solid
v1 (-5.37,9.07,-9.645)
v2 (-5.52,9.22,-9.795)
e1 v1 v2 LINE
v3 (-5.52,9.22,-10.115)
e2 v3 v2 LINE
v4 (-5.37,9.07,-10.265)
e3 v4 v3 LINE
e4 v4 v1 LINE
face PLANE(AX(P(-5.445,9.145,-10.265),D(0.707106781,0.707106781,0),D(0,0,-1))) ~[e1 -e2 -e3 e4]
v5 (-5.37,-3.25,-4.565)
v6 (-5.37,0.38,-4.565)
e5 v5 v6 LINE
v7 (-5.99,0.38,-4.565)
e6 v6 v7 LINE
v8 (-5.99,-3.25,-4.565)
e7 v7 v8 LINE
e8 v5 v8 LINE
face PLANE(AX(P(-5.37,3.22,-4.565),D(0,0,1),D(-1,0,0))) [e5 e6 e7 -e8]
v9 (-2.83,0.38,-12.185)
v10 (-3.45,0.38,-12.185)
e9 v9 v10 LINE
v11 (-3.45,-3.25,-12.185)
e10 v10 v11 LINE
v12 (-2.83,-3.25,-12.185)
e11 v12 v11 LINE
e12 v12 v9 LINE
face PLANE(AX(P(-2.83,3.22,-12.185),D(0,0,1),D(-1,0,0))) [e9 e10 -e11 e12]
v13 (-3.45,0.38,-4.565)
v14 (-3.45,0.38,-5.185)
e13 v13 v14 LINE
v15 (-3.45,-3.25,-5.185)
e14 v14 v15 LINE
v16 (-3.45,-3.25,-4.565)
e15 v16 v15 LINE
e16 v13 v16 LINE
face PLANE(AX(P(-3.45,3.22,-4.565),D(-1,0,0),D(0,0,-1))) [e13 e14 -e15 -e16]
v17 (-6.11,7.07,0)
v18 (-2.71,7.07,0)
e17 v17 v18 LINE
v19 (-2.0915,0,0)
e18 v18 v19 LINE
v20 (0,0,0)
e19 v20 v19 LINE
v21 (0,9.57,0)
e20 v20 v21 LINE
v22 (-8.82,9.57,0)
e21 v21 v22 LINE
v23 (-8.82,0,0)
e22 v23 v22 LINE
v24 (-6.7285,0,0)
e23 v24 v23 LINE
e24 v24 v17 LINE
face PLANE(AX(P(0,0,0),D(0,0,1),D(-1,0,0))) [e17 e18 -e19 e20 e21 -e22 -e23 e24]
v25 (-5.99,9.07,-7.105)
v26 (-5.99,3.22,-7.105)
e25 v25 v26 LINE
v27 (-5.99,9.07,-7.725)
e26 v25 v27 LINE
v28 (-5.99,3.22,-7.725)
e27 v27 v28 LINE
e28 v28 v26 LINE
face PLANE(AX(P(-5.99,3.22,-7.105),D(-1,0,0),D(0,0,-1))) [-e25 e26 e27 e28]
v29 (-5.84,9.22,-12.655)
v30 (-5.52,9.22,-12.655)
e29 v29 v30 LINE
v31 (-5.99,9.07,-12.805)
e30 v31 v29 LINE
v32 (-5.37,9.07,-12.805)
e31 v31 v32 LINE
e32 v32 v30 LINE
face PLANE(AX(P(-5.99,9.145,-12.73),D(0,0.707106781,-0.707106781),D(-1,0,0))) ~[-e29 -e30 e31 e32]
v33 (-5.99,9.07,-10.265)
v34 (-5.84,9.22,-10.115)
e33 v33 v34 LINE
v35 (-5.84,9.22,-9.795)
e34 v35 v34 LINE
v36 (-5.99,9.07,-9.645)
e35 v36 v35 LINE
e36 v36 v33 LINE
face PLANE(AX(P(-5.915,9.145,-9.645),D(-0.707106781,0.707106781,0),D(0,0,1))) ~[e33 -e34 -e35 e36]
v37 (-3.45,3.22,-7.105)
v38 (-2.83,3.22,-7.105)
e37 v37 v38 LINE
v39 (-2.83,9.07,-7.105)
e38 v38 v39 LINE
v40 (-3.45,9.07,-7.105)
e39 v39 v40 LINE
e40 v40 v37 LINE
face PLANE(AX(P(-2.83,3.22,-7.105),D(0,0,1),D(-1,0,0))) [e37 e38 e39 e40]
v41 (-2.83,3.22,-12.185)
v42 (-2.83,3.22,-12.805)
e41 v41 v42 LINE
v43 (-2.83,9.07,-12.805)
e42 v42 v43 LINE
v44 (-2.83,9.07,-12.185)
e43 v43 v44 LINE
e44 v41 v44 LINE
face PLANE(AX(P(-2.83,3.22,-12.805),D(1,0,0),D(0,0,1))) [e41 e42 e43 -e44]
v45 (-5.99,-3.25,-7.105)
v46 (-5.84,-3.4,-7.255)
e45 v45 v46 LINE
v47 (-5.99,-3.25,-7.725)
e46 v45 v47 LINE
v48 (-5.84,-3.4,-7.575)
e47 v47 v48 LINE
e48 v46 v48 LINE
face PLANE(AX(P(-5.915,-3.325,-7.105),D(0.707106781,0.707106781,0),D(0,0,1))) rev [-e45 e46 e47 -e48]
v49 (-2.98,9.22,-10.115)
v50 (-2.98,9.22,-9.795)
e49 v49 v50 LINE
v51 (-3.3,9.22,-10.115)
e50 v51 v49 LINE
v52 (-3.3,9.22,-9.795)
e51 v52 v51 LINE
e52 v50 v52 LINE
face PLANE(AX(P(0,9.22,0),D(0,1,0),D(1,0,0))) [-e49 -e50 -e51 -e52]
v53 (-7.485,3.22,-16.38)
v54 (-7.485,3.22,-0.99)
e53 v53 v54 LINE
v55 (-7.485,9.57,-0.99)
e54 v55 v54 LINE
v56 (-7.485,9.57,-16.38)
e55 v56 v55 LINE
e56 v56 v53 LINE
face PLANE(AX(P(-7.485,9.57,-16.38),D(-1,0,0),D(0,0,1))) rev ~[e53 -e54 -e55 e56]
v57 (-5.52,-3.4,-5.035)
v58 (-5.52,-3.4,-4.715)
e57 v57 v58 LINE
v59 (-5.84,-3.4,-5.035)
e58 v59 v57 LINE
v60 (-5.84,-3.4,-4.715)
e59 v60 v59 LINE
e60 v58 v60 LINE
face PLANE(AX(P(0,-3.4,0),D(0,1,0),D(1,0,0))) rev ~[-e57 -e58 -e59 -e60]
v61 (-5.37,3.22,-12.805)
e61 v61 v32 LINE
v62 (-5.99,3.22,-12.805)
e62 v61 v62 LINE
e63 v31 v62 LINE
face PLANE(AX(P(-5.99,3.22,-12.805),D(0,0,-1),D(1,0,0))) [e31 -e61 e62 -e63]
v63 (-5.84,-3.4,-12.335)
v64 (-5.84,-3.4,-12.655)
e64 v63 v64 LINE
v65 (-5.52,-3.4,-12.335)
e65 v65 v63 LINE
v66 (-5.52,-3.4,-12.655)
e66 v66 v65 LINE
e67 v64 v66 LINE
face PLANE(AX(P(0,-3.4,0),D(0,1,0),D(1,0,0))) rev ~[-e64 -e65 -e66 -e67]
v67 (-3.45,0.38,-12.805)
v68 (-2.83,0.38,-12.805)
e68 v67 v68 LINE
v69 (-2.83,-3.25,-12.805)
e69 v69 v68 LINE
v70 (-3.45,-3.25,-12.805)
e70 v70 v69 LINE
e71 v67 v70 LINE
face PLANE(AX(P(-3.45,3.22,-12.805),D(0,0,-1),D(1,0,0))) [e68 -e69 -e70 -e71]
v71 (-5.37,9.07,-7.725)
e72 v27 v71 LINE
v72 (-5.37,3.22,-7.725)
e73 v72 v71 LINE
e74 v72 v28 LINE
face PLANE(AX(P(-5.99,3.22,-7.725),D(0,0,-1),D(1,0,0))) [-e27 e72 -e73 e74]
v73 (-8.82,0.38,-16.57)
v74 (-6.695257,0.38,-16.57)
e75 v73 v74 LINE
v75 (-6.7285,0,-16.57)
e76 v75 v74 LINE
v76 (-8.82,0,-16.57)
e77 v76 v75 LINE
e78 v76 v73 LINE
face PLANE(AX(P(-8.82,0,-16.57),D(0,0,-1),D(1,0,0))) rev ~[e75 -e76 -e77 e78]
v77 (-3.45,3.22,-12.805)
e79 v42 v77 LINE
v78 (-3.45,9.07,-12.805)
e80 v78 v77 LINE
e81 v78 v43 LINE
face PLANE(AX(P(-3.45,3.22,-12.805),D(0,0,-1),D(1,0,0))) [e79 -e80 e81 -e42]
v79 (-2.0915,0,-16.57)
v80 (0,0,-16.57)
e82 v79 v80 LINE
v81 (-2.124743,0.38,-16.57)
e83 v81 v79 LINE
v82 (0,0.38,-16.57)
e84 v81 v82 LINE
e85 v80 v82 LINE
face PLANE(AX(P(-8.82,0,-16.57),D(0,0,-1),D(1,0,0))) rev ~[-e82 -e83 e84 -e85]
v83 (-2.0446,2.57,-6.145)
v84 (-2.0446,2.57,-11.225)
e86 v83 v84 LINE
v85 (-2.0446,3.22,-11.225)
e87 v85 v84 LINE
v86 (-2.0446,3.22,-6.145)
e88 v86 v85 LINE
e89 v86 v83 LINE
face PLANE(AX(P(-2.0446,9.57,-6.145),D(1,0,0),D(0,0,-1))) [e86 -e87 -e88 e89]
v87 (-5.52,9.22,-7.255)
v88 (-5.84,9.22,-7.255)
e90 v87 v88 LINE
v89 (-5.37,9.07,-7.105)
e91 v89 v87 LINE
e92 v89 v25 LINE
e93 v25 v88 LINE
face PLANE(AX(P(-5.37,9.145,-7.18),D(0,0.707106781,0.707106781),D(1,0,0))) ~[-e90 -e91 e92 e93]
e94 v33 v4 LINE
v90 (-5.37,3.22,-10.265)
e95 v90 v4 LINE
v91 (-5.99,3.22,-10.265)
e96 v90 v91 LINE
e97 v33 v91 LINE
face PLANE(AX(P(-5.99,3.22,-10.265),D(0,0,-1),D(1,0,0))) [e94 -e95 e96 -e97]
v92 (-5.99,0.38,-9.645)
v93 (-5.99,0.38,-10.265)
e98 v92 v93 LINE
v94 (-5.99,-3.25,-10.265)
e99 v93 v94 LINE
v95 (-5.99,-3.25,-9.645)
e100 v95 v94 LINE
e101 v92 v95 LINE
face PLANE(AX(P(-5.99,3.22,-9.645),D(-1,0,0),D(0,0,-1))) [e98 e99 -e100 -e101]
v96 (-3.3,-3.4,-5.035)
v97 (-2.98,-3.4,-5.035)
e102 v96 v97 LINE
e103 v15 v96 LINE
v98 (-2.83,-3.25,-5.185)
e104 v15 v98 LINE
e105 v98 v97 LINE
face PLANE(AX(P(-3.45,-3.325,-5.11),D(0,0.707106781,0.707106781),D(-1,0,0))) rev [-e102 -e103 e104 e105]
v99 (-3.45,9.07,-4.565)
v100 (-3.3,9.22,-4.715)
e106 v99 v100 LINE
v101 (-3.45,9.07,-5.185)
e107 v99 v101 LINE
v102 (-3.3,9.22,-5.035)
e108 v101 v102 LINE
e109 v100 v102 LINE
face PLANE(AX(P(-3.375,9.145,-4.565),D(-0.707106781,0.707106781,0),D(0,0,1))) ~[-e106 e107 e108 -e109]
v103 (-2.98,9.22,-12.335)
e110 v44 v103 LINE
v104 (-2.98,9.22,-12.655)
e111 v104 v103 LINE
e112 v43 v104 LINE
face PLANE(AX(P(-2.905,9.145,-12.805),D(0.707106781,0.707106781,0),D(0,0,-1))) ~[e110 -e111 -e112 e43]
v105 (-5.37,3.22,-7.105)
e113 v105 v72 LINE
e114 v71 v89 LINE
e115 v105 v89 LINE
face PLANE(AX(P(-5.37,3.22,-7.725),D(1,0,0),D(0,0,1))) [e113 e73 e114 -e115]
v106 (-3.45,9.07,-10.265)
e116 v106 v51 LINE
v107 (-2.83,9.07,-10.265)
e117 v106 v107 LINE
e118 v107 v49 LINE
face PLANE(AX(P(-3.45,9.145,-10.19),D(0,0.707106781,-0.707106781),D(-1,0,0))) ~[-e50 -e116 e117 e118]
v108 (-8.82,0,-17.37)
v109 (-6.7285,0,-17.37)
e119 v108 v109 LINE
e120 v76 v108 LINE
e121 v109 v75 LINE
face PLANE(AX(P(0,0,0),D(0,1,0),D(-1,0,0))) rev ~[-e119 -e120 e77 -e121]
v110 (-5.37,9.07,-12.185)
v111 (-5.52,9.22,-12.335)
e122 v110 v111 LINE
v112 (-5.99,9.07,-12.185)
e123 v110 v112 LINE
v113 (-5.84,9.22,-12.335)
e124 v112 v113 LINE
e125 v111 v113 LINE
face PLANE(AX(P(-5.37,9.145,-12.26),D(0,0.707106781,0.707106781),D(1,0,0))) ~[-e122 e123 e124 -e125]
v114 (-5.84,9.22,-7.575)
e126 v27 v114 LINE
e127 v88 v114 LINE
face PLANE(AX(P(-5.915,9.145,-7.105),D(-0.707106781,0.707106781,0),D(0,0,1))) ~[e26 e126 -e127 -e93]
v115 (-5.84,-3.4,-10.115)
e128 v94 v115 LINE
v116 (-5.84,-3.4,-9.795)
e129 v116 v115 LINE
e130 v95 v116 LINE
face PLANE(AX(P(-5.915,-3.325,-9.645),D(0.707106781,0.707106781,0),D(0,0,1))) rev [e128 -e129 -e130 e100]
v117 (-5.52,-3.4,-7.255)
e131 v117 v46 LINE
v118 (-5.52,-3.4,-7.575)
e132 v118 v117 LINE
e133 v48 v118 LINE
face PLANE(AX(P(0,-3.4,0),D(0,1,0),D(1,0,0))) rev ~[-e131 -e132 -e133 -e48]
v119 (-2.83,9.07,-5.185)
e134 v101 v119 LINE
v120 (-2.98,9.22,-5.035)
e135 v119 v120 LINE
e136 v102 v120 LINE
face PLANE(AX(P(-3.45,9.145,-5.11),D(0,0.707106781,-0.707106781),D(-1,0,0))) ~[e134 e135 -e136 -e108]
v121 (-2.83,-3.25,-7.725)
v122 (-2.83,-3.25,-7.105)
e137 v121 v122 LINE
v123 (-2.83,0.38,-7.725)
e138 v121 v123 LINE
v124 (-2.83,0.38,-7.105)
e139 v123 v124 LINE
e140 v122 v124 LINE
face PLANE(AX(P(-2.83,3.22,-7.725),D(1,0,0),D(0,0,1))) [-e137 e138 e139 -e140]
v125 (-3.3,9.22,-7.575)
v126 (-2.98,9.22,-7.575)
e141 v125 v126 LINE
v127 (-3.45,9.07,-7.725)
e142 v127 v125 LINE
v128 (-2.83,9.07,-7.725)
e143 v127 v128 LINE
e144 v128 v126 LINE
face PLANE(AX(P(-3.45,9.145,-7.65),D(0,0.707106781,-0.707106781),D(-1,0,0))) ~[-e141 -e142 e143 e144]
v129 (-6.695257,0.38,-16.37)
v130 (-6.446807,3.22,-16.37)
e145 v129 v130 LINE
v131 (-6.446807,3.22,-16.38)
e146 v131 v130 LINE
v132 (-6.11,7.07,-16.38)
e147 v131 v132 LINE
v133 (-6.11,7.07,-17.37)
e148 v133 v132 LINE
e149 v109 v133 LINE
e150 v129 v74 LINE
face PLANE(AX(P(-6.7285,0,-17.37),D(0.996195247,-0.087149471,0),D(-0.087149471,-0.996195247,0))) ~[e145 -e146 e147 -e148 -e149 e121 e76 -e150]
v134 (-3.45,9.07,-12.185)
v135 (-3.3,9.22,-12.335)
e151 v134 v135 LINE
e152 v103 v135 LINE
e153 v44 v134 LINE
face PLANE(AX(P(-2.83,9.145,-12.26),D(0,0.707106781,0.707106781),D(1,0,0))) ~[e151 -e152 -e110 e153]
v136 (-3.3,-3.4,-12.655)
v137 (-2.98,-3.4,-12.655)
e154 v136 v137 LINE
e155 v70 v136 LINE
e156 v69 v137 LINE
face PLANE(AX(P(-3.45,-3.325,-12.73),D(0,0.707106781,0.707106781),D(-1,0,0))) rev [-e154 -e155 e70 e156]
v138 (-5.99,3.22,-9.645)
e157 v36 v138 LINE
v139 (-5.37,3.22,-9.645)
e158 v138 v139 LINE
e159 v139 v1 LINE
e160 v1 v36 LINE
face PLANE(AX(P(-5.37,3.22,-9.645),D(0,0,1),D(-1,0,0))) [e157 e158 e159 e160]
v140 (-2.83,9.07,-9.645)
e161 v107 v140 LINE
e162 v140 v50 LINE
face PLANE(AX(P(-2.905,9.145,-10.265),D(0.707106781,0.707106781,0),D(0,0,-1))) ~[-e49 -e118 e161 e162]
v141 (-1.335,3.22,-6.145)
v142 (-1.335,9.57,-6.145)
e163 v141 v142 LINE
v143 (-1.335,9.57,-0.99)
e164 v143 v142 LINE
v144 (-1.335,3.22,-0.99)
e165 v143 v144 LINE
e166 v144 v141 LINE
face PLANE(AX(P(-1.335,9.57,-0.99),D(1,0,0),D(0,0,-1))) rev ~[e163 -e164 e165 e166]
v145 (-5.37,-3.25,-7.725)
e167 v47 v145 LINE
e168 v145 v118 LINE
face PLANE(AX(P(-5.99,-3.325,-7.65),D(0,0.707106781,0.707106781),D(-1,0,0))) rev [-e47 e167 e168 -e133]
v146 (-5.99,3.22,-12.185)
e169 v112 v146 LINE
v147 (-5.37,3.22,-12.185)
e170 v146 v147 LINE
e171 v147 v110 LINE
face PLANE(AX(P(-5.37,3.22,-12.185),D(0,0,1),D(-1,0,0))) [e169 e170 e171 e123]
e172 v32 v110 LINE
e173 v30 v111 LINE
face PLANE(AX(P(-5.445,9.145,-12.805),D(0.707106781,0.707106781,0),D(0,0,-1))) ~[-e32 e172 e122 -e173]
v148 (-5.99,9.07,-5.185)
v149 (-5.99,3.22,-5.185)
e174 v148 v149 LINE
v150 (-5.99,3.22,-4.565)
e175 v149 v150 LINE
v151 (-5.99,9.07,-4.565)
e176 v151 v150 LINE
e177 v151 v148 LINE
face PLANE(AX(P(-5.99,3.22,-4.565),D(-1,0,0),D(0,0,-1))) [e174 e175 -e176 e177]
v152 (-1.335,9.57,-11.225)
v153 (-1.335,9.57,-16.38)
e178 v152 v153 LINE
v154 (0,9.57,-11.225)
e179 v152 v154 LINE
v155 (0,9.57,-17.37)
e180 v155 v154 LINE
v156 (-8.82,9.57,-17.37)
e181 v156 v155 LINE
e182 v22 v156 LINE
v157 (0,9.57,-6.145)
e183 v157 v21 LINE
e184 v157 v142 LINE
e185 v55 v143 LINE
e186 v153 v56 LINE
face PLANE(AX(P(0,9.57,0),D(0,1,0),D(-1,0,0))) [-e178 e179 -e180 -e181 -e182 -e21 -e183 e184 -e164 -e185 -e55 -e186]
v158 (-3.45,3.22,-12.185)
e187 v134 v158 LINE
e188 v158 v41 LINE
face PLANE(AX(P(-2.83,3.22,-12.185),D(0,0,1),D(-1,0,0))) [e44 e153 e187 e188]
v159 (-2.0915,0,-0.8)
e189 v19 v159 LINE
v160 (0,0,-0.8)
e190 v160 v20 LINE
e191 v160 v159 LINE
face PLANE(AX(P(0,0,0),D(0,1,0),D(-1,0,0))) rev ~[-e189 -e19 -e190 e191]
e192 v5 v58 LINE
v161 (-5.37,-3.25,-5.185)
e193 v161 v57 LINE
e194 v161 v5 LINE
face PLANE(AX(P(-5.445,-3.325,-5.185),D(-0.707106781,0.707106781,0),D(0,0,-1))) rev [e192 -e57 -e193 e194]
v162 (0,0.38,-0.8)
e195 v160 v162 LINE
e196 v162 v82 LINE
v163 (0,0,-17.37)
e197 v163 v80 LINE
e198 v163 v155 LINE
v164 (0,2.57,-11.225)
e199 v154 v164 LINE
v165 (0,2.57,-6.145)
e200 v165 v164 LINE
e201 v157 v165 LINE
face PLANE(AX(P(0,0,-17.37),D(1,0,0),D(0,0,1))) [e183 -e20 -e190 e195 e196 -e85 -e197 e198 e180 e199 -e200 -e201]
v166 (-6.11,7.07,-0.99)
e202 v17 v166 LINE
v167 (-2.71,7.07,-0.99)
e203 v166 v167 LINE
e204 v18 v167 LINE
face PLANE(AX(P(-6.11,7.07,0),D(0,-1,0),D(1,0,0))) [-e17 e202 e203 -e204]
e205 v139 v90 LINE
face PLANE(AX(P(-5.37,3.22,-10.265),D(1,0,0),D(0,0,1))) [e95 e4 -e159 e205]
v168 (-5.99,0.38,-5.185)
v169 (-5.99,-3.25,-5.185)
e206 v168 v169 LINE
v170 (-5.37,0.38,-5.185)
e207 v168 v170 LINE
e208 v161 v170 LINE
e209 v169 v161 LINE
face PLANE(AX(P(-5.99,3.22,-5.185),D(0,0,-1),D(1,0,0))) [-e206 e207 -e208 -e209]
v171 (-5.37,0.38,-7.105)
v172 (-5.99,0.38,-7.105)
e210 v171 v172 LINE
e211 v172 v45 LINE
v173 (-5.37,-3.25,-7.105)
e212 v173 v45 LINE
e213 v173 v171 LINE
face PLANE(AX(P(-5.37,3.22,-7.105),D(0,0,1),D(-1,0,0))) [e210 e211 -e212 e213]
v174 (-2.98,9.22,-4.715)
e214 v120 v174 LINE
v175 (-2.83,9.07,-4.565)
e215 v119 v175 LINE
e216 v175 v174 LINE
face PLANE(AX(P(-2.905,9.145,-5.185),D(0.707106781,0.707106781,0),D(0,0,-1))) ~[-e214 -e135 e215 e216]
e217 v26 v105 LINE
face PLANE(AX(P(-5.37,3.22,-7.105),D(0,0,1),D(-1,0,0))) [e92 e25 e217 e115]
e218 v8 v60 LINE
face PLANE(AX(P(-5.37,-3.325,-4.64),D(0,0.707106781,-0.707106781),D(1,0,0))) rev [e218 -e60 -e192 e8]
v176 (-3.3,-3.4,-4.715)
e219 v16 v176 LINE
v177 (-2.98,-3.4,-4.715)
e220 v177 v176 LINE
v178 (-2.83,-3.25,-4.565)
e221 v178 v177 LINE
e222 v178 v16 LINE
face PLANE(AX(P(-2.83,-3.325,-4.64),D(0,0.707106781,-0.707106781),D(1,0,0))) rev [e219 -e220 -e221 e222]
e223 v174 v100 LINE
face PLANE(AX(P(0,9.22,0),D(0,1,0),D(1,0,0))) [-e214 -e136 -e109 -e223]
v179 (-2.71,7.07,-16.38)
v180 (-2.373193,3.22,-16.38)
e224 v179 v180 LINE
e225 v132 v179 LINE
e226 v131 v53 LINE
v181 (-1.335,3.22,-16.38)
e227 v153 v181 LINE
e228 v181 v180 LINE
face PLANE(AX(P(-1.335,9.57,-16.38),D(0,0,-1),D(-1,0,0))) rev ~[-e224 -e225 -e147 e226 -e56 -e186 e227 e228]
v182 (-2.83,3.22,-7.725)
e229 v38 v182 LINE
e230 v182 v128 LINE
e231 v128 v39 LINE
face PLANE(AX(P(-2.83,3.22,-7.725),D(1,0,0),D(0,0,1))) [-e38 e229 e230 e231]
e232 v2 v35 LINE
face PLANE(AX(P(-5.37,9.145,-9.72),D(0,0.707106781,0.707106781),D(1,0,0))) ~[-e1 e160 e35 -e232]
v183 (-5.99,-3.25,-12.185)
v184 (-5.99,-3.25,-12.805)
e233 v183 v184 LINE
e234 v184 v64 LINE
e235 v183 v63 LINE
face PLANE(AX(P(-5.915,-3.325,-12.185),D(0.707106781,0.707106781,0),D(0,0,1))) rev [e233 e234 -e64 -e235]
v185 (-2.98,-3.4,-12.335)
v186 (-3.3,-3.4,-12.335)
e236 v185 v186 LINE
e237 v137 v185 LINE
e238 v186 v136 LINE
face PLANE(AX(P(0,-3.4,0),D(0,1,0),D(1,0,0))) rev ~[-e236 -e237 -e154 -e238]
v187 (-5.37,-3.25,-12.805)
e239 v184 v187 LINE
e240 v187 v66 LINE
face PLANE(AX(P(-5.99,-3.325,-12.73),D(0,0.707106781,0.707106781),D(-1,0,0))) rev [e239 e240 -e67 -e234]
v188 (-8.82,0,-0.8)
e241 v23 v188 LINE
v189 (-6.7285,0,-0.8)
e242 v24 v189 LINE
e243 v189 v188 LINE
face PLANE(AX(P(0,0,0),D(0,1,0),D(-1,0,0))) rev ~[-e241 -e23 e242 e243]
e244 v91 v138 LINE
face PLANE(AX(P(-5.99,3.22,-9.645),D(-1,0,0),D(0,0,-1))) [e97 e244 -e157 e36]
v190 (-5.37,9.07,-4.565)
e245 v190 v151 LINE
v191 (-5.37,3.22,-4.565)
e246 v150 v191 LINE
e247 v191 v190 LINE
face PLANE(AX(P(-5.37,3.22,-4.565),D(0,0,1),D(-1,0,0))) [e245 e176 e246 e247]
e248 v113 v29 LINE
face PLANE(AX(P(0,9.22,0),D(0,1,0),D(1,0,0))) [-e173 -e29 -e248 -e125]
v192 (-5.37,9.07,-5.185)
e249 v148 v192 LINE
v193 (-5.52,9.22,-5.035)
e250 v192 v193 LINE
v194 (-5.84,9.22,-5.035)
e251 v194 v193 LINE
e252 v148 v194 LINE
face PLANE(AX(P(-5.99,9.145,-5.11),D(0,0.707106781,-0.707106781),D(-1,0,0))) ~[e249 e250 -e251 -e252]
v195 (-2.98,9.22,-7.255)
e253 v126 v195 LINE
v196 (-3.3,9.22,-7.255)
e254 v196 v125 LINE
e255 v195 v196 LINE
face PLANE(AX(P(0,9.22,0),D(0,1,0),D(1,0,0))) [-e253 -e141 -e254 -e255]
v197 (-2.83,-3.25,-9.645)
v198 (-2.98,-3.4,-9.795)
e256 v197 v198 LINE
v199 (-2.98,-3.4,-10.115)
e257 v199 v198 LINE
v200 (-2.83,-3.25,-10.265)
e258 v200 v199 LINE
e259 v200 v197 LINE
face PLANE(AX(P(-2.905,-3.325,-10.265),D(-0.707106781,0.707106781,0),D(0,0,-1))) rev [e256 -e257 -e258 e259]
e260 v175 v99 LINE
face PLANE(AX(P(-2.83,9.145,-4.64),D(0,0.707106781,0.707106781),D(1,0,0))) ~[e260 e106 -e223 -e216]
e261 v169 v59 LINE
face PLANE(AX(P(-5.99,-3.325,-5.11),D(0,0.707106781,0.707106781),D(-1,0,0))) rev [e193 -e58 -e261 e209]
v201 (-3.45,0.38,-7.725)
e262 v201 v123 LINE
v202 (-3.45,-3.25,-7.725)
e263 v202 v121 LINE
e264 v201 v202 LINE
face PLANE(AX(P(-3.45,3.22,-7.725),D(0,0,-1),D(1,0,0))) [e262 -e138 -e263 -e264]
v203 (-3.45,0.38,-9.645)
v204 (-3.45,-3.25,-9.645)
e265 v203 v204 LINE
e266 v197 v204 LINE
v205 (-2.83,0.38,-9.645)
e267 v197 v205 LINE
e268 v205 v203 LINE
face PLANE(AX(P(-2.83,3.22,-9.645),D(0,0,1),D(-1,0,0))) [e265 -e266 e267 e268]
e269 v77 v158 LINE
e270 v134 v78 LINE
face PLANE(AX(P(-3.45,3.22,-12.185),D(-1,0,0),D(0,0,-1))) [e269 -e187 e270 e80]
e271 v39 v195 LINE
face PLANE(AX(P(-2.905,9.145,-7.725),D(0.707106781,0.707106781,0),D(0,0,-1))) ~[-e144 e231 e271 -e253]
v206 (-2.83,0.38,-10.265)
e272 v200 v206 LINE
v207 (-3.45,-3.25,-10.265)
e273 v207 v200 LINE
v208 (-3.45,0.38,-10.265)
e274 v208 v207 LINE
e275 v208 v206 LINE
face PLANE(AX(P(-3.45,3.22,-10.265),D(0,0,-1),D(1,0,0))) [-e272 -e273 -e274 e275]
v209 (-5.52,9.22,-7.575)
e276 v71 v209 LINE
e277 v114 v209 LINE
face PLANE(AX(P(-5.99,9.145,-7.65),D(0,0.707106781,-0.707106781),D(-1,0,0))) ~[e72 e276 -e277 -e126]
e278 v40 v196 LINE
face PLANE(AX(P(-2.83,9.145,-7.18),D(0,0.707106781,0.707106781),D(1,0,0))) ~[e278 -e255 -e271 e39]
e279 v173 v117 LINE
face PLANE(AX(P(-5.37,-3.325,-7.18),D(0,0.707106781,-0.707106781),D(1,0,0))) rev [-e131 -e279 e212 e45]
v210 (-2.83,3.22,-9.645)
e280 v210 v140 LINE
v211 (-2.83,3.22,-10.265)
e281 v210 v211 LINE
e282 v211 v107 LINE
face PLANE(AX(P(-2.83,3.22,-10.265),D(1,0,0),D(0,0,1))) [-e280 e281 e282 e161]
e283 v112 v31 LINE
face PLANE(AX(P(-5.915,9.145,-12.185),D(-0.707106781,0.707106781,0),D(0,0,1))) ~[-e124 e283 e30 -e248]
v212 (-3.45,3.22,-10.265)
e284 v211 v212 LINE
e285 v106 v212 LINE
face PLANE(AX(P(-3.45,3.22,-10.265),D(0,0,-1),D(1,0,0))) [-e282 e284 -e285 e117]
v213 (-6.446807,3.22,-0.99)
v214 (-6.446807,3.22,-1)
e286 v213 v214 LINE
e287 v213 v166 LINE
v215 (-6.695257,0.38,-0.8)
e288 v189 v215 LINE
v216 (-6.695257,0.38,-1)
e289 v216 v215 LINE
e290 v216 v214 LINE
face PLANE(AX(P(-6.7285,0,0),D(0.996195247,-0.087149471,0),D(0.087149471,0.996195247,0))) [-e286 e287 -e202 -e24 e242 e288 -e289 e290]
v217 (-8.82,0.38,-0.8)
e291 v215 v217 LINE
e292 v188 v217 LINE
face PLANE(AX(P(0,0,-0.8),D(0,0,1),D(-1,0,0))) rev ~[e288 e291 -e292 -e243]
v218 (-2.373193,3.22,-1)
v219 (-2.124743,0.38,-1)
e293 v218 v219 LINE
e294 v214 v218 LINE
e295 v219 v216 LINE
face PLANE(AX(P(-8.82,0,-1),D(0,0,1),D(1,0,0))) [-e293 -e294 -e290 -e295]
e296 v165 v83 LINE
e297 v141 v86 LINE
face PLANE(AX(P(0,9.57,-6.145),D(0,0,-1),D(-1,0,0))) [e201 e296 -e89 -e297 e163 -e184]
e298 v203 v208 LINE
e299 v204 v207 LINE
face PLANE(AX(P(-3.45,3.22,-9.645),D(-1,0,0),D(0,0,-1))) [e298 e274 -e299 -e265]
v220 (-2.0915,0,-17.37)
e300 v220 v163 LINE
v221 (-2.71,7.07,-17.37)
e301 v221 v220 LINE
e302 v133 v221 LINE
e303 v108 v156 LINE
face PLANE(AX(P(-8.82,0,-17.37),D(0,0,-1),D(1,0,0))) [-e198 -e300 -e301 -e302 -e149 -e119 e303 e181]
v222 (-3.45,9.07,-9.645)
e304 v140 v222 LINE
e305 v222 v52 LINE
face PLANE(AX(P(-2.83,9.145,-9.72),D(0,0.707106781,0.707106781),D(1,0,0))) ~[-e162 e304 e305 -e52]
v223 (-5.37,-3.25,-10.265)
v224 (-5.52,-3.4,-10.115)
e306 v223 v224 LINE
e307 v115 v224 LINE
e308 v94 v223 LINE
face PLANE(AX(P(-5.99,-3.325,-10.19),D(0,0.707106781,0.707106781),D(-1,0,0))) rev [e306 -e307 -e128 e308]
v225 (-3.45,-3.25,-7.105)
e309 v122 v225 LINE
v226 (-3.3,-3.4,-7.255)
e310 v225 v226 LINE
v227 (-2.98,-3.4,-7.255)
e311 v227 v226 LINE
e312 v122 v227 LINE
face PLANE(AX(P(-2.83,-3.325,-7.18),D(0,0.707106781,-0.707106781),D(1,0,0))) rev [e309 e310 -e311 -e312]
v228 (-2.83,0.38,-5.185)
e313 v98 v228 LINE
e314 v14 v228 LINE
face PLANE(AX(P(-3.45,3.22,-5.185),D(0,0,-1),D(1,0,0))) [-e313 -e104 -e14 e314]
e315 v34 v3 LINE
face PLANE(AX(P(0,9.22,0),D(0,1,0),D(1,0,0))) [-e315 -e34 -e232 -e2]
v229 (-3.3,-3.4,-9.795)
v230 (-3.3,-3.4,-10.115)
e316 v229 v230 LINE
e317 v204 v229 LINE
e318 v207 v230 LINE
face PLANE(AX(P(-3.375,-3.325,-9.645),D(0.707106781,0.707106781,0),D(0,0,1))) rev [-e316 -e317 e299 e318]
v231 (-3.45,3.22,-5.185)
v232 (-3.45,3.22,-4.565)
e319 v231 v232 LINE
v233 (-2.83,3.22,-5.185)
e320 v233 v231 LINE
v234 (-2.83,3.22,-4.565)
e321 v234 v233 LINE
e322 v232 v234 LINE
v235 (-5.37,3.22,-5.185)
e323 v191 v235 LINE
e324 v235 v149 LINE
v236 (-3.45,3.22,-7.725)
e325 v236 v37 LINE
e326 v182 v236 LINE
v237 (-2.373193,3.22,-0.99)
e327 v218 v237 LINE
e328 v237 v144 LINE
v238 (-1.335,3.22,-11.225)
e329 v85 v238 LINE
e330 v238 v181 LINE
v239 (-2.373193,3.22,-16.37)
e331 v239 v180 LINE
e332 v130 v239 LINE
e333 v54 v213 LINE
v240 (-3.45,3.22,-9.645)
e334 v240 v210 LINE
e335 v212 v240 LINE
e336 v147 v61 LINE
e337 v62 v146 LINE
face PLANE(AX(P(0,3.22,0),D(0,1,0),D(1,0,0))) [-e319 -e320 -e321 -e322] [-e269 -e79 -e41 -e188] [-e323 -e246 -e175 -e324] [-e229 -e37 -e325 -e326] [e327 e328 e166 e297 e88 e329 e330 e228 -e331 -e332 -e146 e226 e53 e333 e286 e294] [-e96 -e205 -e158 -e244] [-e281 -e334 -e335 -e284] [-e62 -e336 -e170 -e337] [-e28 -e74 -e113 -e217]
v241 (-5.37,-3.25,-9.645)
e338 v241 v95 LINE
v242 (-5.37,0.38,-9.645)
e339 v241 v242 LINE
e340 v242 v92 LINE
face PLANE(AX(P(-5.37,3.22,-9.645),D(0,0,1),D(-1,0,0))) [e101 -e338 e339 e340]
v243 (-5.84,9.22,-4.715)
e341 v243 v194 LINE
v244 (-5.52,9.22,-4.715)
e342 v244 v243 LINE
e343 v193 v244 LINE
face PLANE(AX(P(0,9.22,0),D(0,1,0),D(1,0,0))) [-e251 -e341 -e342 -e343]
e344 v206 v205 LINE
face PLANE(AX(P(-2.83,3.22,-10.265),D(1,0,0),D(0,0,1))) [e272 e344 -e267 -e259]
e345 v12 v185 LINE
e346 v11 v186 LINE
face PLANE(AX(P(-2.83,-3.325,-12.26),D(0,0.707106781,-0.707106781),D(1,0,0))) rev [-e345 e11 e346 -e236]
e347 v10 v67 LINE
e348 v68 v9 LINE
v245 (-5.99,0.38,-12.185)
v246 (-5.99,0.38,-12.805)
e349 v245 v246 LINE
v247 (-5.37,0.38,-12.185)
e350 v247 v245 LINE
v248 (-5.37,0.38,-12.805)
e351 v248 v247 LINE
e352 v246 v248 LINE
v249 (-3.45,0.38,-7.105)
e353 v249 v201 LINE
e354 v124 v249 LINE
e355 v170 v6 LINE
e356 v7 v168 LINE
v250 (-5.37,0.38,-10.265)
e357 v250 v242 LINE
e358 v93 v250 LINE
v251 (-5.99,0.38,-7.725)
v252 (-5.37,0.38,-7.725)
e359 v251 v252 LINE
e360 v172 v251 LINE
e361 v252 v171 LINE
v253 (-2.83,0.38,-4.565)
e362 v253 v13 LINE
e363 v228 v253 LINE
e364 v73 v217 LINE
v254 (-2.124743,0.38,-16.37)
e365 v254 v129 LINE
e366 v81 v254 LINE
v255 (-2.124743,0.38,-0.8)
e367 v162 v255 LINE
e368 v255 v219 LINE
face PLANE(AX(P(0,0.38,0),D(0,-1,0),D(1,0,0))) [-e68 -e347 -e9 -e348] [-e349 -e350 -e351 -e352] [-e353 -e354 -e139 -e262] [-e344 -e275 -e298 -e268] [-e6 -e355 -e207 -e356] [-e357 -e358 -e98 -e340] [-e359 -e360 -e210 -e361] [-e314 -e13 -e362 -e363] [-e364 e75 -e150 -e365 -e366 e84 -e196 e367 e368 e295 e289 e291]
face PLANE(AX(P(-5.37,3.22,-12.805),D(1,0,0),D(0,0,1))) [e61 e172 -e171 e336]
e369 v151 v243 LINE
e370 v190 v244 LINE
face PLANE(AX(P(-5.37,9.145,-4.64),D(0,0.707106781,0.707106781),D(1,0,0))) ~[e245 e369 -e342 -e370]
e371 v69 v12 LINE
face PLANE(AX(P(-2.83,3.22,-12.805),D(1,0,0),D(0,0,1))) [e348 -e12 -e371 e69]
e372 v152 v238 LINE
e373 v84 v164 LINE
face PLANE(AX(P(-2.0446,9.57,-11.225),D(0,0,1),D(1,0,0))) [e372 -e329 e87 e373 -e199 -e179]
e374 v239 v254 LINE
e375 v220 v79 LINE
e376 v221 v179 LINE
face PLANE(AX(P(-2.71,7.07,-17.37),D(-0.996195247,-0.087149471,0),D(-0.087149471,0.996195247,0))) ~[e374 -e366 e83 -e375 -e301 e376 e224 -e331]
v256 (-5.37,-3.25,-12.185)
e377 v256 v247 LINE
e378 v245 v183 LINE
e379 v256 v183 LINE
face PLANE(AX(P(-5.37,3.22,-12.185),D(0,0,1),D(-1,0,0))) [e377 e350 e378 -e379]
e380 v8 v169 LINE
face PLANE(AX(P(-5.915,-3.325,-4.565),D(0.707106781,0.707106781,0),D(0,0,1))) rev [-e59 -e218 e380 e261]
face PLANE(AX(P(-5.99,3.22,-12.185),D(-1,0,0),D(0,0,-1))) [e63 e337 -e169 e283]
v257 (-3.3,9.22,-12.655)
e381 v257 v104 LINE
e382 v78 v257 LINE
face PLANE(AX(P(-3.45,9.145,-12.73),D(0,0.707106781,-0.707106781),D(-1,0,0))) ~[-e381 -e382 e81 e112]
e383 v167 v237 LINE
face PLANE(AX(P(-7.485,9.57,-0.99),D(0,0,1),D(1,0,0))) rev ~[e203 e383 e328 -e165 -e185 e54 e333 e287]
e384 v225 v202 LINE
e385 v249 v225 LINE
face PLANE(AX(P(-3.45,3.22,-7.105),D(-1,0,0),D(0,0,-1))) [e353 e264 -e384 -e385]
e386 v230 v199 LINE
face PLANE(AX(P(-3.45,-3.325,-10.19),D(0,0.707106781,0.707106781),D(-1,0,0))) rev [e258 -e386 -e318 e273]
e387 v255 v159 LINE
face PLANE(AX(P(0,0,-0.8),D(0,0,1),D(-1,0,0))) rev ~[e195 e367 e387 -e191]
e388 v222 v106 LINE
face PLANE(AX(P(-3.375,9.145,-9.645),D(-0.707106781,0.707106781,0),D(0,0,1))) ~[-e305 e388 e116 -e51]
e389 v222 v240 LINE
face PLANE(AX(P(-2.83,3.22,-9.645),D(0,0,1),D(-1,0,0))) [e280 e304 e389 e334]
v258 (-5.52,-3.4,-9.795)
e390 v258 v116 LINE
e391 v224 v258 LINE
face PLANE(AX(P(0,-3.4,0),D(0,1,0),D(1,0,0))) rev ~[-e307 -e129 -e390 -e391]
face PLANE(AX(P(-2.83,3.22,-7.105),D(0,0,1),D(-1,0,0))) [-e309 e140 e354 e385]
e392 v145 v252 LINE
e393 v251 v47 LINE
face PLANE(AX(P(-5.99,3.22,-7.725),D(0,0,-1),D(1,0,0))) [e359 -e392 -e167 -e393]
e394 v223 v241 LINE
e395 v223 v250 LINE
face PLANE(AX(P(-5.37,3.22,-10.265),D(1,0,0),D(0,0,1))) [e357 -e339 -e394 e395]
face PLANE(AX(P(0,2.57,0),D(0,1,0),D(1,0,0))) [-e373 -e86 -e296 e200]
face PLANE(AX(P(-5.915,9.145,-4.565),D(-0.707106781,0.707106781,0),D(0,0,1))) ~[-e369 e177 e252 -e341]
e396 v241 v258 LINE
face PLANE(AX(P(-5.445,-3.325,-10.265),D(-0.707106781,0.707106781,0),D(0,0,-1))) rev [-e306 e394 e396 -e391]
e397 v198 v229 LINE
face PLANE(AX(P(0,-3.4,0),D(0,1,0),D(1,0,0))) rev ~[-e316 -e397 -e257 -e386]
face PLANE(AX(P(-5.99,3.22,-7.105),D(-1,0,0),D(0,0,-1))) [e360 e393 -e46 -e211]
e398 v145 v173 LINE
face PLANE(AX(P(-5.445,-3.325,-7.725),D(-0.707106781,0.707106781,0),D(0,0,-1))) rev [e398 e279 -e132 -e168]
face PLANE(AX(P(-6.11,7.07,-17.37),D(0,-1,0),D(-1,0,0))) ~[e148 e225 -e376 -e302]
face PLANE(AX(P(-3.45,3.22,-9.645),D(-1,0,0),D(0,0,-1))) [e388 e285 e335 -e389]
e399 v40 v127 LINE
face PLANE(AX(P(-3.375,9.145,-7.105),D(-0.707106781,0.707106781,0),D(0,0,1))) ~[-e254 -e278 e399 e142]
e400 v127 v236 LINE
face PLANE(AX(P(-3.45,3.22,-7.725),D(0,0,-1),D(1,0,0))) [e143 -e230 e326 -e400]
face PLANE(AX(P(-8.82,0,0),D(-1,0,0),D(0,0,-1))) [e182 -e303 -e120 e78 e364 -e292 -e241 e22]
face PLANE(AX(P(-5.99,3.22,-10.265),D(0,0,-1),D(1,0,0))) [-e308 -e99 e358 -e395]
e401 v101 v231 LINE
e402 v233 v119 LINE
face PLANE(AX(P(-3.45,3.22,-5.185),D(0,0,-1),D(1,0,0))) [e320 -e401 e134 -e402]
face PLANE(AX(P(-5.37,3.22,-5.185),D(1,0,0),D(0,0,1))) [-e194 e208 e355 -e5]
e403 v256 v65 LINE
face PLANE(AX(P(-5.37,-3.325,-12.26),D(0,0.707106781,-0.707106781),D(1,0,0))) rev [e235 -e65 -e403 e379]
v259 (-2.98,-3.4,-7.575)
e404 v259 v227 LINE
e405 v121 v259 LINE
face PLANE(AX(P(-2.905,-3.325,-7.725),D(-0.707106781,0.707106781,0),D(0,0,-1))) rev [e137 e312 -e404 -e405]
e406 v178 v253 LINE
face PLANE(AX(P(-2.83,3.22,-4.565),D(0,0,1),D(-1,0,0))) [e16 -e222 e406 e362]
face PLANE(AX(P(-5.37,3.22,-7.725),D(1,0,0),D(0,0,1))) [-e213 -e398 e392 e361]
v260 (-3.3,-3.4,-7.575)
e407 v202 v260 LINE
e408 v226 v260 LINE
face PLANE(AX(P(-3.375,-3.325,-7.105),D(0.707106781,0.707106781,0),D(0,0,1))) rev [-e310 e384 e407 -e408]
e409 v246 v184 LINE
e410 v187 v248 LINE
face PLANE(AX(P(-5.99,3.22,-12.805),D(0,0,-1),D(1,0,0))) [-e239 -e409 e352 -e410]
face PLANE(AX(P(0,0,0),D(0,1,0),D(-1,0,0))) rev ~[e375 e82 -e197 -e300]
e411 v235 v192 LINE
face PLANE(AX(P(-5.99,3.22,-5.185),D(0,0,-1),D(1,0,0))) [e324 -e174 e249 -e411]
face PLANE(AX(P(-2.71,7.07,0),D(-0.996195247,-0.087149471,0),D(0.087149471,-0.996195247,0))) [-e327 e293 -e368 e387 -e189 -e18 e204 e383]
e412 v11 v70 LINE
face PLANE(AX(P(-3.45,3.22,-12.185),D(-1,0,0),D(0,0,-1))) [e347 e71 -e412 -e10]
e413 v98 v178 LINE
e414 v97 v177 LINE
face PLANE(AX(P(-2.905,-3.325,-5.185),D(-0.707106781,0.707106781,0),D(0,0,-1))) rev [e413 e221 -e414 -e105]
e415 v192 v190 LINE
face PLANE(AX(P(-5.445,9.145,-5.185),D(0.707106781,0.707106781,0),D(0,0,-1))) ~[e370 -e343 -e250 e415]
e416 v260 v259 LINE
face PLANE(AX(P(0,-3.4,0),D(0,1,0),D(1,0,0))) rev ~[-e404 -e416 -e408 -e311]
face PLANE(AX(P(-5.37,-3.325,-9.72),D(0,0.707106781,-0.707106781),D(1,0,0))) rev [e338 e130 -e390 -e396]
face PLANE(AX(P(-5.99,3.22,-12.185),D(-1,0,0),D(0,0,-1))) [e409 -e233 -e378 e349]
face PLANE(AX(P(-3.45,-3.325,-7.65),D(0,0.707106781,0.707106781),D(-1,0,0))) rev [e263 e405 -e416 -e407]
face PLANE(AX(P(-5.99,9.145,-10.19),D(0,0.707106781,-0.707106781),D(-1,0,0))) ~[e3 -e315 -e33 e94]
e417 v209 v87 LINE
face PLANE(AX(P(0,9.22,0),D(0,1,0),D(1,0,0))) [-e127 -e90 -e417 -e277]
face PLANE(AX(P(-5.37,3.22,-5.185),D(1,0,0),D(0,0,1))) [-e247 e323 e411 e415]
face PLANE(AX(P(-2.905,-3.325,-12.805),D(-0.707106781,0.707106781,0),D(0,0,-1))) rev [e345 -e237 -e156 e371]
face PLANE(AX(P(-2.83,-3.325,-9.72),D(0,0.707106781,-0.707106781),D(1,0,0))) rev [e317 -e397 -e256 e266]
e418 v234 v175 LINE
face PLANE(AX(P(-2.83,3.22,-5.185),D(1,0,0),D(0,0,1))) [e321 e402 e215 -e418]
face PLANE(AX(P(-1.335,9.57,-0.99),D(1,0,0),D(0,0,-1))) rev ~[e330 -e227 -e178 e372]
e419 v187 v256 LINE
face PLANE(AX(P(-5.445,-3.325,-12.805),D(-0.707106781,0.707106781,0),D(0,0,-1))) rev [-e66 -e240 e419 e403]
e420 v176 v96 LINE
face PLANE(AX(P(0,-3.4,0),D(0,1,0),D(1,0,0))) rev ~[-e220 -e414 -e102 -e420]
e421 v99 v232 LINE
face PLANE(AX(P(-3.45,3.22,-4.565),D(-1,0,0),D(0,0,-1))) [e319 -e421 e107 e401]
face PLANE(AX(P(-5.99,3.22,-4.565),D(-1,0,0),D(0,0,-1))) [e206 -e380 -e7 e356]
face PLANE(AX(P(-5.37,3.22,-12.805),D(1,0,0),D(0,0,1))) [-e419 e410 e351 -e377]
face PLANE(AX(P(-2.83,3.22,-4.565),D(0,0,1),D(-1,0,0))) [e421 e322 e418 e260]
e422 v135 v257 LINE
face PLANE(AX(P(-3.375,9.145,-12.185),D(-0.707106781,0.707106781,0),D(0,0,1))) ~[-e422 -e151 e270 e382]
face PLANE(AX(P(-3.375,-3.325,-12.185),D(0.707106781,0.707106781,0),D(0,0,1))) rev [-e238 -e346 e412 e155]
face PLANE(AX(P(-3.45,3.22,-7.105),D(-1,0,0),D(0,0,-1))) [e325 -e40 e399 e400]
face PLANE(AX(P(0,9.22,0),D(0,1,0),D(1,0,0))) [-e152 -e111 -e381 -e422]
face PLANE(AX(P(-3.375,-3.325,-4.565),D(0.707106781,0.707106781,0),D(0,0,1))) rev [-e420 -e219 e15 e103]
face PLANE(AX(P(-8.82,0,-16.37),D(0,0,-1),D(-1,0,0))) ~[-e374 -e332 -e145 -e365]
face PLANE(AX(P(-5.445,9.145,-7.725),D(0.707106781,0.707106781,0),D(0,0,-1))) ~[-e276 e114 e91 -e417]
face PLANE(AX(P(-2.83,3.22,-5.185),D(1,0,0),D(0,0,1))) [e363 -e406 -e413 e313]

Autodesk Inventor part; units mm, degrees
ref_plane "YZ Plane" through (0, 0, 0) normal (1, 0, 0) x (0, 1, 0)
ref_plane "XZ Plane" through (0, 0, 0) normal (0, 1, 0) x (-1, 0, 0)
sketch "Sketch1" plane through (0, 0, 0) normal (0, 1, 0) x (-1, 0, 0)
  line L0 (0, 0) -> (8.82, 0)
  line L1 (8.82, 0) -> (8.82, -17.37)
  line L2 (8.82, -17.37) -> (0, -17.37)
  line L3 (0, -17.37) -> (0, 0)
  dimension "length" = 17.37
  dimension "width" = 8.82
extrude "Extrusion1" add sketch "Sketch1" along normal blind 9.57
sketch "Sketch2" plane through (0, 9.57, 0) normal (0, 1, 0) x (1, 0, 0)
  line L0 (-7.485, 0.99) -> (-1.335, 0.99)
  line L1 (-1.335, 0.99) -> (-1.335, 16.38)
  line L2 (-1.335, 16.38) -> (-7.485, 16.38)
  line L3 (-7.485, 16.38) -> (-7.485, 0.99)
  line L4 (0, 17.37) -> (-8.82, 17.37) projected
  line L5 (0, 0) -> (0, 17.37) projected
  dimension "d5" = 6.15
  dimension "d6" = 15.39
  dimension "d7" = 0.99
  dimension "d8" = 1.335
extrude "Extrusion2" cut sketch "Sketch2" against normal blind 6.35
sketch "Sketch3" plane through (0, 9.57, 0) normal (0, 1, 0) x (1, 0, 0)
  line L0 (0, 0) -> (0, 17.37) projected
  line L1 (0, 6.145) -> (-2.0446, 6.145)
  line L2 (-2.0446, 6.145) -> (-2.0446, 11.225)
  line L3 (-2.0446, 11.225) -> (0, 11.225)
  line L4 (0, 11.225) -> (0, 6.145)
  line L5 (-8.82, 0) -> (0, 0) projected
  dimension "d11" = 5.08
  dimension "d12" = 6.145
  dimension "d13" = 2.0446
extrude "Extrusion3" cut sketch "Sketch3" against normal blind 7
sketch "Sketch4" plane through (0, 0, 0) normal (0, -1, 0) x (1, 0, 0)
  line L0 (0, 0) -> (0, -17.37) projected
  line L1 (-8.82, -17.37) -> (-8.82, 0) projected
  line L2 (0, -0.8) -> (-8.82, -0.8)
  line L3 (-8.82, -0.8) -> (-8.82, -16.57)
  line L4 (-8.82, -16.57) -> (0, -16.57)
  line L5 (0, -16.57) -> (0, -0.8)
  line L6 (0, 0) -> (-8.82, 0) projected
  line L7 (-8.82, -17.37) -> (0, -17.37) projected
  dimension "d16" = 0.8
  dimension "d17" = 0.8
extrude "Extrusion4" cut sketch "Sketch4" against normal blind 0.38 contours L0 L4 L1 L2
sketch "Sketch5" plane through (-8.82, 0, 0) normal (0, 0, 1) x (1, 0, 0)
  line L0 (2.0915, 0) -> (2.71, 7.07)
  line L1 (2.71, 7.07) -> (6.11, 7.07)
  line L2 (6.11, 7.07) -> (6.7285, 0)
  line L3 (2.0915, 0) -> (6.7285, 0)
  line L4 (8.82, 0) -> (0, 0) projected
  line L5 (8.1271, 3.22) -> (11.7857, 3.22)
  line L6 (0, 9.57) -> (8.82, 9.57) projected
  dimension "width" = 8.82
  dimension "sideCutOutTopWidth" = 3.4
  dimension "d21" = 6.35
  dimension "d22" = 3.85
  dimension "d24" = 85
  dimension "d26" = 85
  dimension "d27" = 2.0915
  dimension "sideCutOutBottomWidth" = 4.6371
extrude "Extrusion5" cut sketch "Sketch5" against normal blind 1
ref_plane "Work Plane1" through (-8.82, 0, -8.685) normal (0, 0, 1) x (1, 0, 0)
mirror "Mirror1" about plane through (-8.82, 0, -8.685) normal (0, 0, 1) of "Extrusion5"
sketch "Sketch6" plane through (0, 3.22, 0) normal (0, 1, 0) x (1, 0, 0)
  line L0 (-2.83, 4.565) -> (-3.45, 4.565)
  line L1 (-3.45, 4.565) -> (-3.45, 5.185)
  line L2 (-3.45, 5.185) -> (-2.83, 5.185)
  line L3 (-2.83, 5.185) -> (-2.83, 4.565)
  line L4 (-2.83, 7.105) -> (-3.45, 7.105)
  line L5 (-3.45, 7.105) -> (-3.45, 7.725)
  line L6 (-3.45, 7.725) -> (-2.83, 7.725)
  line L7 (-2.83, 7.725) -> (-2.83, 7.105)
  line L8 (-2.83, 9.645) -> (-3.45, 9.645)
  line L9 (-3.45, 9.645) -> (-3.45, 10.265)
  line L10 (-3.45, 10.265) -> (-2.83, 10.265)
  line L11 (-2.83, 10.265) -> (-2.83, 9.645)
  line L12 (-2.83, 12.185) -> (-3.45, 12.185)
  line L13 (-3.45, 12.185) -> (-3.45, 12.805)
  line L14 (-3.45, 12.805) -> (-2.83, 12.805)
  line L15 (-2.83, 12.805) -> (-2.83, 12.185)
  line L16 (-5.37, 4.565) -> (-5.99, 4.565)
  line L17 (-5.99, 4.565) -> (-5.99, 5.185)
  line L18 (-5.99, 5.185) -> (-5.37, 5.185)
  line L19 (-5.37, 5.185) -> (-5.37, 4.565)
  line L20 (-5.37, 7.105) -> (-5.99, 7.105)
  line L21 (-5.99, 7.105) -> (-5.99, 7.725)
  line L22 (-5.99, 7.725) -> (-5.37, 7.725)
  line L23 (-5.37, 7.725) -> (-5.37, 7.105)
  line L24 (-5.37, 9.645) -> (-5.99, 9.645)
  line L25 (-5.99, 9.645) -> (-5.99, 10.265)
  line L26 (-5.99, 10.265) -> (-5.37, 10.265)
  line L27 (-5.37, 10.265) -> (-5.37, 9.645)
  line L28 (-5.37, 12.185) -> (-5.99, 12.185)
  line L29 (-5.99, 12.185) -> (-5.99, 12.805)
  line L30 (-5.99, 12.805) -> (-5.37, 12.805)
  line L31 (-5.37, 12.805) -> (-5.37, 12.185)
  line L32 (0, 0) -> (0, 6.145) projected
  line L33 (-8.82, 0) -> (0, 0) projected
  line L34 (-6.4732, 8.685) -> (-4.41, 8.685)
  line L35 (-4.41, 8.685) -> (-4.41, 4.7119)
  dimension "d31" = 0.62
  dimension "d32" = 0.62
  dimension "d35" = 2.54
  dimension "d38" = 2.54
  dimension "d43" = 0.96
  dimension "d44" = 0.96
  dimension "d45" = 4.41
  dimension "d46" = 8.685
extrude "Extrusion6" add sketch "Sketch6" along normal blind 6 and the other way blind 6.62
chamfer "Chamfer1" distance 0.15 angle 45 64 edges at (-5.68, 9.22, -4.565) (-5.37, 9.22, -4.875) (-5.68, 9.22, -5.185) (-5.99, 9.22, -4.875) (-3.45, 9.22, -4.875) (-3.14, 9.22, -5.185) (-2.83, 9.22, -4.875) (-3.14, 9.22, -4.565) (-3.14, 9.22, -7.105) (-2.83, 9.22, -7.415) (-3.14, 9.22, -7.725) (-3.45, 9.22, -7.415) (-5.37, 9.22, -7.415) (-5.68, 9.22, -7.105) (-5.99, 9.22, -7.415) (-5.68, 9.22, -7.725) (-5.68, 9.22, -9.645) (-5.37, 9.22, -9.955) (-5.68, 9.22, -10.265) (-5.99, 9.22, -9.955) (-5.68, 9.22, -12.185) (-5.37, 9.22, -12.495) (-5.68, 9.22, -12.805) (-5.99, 9.22, -12.495) (-2.83, 9.22, -9.955) (-3.14, 9.22, -9.645) (-3.45, 9.22, -9.955) (-3.14, 9.22, -10.265) (-3.14, 9.22, -12.185) (-2.83, 9.22, -12.495) (-3.14, 9.22, -12.805) (-3.45, 9.22, -12.495) (-2.83, -3.4, -4.875) (-3.14, -3.4, -5.185) (-3.45, -3.4, -4.875) (-3.14, -3.4, -4.565) (-5.37, -3.4, -4.875) (-5.68, -3.4, -4.565) (-5.99, -3.4, -4.875) (-5.68, -3.4, -5.185) (-5.68, -3.4, -7.105) (-5.37, -3.4, -7.415) (-5.99, -3.4, -7.415) (-5.68, -3.4, -7.725) (-3.45, -3.4, -7.415) (-2.83, -3.4, -7.415) (-3.14, -3.4, -7.105) (-3.14, -3.4, -7.725) (-2.83, -3.4, -9.955) (-3.14, -3.4, -9.645) (-3.45, -3.4, -9.955) (-3.14, -3.4, -10.265) (-5.37, -3.4, -9.955) (-5.68, -3.4, -9.645) (-5.99, -3.4, -9.955) (-5.68, -3.4, -10.265) (-5.68, -3.4, -12.185) (-5.99, -3.4, -12.495) (-5.37, -3.4, -12.495) (-5.68, -3.4, -12.805) (-3.45, -3.4, -12.495) (-3.14, -3.4, -12.185) (-3.14, -3.4, -12.805) (-2.83, -3.4, -12.495)
equation "\"d7\" = -0.5 * d6 + 0.5 * length"
equation "\"d8\" = -0.5 * d5 + 0.5 * width"
equation "\"d12\" = -0.5 * d11 + 0.5 * length"
equation "\"d27\" = -0.5 * sideCutOutBottomWidth + 0.5 * width"
equation "\"d45\" = 0.5 * width"
equation "\"d46\" = 0.5 * length"
properties part number "PinHeader_2x04_P2.54mm_Vertical_Shrouded"
